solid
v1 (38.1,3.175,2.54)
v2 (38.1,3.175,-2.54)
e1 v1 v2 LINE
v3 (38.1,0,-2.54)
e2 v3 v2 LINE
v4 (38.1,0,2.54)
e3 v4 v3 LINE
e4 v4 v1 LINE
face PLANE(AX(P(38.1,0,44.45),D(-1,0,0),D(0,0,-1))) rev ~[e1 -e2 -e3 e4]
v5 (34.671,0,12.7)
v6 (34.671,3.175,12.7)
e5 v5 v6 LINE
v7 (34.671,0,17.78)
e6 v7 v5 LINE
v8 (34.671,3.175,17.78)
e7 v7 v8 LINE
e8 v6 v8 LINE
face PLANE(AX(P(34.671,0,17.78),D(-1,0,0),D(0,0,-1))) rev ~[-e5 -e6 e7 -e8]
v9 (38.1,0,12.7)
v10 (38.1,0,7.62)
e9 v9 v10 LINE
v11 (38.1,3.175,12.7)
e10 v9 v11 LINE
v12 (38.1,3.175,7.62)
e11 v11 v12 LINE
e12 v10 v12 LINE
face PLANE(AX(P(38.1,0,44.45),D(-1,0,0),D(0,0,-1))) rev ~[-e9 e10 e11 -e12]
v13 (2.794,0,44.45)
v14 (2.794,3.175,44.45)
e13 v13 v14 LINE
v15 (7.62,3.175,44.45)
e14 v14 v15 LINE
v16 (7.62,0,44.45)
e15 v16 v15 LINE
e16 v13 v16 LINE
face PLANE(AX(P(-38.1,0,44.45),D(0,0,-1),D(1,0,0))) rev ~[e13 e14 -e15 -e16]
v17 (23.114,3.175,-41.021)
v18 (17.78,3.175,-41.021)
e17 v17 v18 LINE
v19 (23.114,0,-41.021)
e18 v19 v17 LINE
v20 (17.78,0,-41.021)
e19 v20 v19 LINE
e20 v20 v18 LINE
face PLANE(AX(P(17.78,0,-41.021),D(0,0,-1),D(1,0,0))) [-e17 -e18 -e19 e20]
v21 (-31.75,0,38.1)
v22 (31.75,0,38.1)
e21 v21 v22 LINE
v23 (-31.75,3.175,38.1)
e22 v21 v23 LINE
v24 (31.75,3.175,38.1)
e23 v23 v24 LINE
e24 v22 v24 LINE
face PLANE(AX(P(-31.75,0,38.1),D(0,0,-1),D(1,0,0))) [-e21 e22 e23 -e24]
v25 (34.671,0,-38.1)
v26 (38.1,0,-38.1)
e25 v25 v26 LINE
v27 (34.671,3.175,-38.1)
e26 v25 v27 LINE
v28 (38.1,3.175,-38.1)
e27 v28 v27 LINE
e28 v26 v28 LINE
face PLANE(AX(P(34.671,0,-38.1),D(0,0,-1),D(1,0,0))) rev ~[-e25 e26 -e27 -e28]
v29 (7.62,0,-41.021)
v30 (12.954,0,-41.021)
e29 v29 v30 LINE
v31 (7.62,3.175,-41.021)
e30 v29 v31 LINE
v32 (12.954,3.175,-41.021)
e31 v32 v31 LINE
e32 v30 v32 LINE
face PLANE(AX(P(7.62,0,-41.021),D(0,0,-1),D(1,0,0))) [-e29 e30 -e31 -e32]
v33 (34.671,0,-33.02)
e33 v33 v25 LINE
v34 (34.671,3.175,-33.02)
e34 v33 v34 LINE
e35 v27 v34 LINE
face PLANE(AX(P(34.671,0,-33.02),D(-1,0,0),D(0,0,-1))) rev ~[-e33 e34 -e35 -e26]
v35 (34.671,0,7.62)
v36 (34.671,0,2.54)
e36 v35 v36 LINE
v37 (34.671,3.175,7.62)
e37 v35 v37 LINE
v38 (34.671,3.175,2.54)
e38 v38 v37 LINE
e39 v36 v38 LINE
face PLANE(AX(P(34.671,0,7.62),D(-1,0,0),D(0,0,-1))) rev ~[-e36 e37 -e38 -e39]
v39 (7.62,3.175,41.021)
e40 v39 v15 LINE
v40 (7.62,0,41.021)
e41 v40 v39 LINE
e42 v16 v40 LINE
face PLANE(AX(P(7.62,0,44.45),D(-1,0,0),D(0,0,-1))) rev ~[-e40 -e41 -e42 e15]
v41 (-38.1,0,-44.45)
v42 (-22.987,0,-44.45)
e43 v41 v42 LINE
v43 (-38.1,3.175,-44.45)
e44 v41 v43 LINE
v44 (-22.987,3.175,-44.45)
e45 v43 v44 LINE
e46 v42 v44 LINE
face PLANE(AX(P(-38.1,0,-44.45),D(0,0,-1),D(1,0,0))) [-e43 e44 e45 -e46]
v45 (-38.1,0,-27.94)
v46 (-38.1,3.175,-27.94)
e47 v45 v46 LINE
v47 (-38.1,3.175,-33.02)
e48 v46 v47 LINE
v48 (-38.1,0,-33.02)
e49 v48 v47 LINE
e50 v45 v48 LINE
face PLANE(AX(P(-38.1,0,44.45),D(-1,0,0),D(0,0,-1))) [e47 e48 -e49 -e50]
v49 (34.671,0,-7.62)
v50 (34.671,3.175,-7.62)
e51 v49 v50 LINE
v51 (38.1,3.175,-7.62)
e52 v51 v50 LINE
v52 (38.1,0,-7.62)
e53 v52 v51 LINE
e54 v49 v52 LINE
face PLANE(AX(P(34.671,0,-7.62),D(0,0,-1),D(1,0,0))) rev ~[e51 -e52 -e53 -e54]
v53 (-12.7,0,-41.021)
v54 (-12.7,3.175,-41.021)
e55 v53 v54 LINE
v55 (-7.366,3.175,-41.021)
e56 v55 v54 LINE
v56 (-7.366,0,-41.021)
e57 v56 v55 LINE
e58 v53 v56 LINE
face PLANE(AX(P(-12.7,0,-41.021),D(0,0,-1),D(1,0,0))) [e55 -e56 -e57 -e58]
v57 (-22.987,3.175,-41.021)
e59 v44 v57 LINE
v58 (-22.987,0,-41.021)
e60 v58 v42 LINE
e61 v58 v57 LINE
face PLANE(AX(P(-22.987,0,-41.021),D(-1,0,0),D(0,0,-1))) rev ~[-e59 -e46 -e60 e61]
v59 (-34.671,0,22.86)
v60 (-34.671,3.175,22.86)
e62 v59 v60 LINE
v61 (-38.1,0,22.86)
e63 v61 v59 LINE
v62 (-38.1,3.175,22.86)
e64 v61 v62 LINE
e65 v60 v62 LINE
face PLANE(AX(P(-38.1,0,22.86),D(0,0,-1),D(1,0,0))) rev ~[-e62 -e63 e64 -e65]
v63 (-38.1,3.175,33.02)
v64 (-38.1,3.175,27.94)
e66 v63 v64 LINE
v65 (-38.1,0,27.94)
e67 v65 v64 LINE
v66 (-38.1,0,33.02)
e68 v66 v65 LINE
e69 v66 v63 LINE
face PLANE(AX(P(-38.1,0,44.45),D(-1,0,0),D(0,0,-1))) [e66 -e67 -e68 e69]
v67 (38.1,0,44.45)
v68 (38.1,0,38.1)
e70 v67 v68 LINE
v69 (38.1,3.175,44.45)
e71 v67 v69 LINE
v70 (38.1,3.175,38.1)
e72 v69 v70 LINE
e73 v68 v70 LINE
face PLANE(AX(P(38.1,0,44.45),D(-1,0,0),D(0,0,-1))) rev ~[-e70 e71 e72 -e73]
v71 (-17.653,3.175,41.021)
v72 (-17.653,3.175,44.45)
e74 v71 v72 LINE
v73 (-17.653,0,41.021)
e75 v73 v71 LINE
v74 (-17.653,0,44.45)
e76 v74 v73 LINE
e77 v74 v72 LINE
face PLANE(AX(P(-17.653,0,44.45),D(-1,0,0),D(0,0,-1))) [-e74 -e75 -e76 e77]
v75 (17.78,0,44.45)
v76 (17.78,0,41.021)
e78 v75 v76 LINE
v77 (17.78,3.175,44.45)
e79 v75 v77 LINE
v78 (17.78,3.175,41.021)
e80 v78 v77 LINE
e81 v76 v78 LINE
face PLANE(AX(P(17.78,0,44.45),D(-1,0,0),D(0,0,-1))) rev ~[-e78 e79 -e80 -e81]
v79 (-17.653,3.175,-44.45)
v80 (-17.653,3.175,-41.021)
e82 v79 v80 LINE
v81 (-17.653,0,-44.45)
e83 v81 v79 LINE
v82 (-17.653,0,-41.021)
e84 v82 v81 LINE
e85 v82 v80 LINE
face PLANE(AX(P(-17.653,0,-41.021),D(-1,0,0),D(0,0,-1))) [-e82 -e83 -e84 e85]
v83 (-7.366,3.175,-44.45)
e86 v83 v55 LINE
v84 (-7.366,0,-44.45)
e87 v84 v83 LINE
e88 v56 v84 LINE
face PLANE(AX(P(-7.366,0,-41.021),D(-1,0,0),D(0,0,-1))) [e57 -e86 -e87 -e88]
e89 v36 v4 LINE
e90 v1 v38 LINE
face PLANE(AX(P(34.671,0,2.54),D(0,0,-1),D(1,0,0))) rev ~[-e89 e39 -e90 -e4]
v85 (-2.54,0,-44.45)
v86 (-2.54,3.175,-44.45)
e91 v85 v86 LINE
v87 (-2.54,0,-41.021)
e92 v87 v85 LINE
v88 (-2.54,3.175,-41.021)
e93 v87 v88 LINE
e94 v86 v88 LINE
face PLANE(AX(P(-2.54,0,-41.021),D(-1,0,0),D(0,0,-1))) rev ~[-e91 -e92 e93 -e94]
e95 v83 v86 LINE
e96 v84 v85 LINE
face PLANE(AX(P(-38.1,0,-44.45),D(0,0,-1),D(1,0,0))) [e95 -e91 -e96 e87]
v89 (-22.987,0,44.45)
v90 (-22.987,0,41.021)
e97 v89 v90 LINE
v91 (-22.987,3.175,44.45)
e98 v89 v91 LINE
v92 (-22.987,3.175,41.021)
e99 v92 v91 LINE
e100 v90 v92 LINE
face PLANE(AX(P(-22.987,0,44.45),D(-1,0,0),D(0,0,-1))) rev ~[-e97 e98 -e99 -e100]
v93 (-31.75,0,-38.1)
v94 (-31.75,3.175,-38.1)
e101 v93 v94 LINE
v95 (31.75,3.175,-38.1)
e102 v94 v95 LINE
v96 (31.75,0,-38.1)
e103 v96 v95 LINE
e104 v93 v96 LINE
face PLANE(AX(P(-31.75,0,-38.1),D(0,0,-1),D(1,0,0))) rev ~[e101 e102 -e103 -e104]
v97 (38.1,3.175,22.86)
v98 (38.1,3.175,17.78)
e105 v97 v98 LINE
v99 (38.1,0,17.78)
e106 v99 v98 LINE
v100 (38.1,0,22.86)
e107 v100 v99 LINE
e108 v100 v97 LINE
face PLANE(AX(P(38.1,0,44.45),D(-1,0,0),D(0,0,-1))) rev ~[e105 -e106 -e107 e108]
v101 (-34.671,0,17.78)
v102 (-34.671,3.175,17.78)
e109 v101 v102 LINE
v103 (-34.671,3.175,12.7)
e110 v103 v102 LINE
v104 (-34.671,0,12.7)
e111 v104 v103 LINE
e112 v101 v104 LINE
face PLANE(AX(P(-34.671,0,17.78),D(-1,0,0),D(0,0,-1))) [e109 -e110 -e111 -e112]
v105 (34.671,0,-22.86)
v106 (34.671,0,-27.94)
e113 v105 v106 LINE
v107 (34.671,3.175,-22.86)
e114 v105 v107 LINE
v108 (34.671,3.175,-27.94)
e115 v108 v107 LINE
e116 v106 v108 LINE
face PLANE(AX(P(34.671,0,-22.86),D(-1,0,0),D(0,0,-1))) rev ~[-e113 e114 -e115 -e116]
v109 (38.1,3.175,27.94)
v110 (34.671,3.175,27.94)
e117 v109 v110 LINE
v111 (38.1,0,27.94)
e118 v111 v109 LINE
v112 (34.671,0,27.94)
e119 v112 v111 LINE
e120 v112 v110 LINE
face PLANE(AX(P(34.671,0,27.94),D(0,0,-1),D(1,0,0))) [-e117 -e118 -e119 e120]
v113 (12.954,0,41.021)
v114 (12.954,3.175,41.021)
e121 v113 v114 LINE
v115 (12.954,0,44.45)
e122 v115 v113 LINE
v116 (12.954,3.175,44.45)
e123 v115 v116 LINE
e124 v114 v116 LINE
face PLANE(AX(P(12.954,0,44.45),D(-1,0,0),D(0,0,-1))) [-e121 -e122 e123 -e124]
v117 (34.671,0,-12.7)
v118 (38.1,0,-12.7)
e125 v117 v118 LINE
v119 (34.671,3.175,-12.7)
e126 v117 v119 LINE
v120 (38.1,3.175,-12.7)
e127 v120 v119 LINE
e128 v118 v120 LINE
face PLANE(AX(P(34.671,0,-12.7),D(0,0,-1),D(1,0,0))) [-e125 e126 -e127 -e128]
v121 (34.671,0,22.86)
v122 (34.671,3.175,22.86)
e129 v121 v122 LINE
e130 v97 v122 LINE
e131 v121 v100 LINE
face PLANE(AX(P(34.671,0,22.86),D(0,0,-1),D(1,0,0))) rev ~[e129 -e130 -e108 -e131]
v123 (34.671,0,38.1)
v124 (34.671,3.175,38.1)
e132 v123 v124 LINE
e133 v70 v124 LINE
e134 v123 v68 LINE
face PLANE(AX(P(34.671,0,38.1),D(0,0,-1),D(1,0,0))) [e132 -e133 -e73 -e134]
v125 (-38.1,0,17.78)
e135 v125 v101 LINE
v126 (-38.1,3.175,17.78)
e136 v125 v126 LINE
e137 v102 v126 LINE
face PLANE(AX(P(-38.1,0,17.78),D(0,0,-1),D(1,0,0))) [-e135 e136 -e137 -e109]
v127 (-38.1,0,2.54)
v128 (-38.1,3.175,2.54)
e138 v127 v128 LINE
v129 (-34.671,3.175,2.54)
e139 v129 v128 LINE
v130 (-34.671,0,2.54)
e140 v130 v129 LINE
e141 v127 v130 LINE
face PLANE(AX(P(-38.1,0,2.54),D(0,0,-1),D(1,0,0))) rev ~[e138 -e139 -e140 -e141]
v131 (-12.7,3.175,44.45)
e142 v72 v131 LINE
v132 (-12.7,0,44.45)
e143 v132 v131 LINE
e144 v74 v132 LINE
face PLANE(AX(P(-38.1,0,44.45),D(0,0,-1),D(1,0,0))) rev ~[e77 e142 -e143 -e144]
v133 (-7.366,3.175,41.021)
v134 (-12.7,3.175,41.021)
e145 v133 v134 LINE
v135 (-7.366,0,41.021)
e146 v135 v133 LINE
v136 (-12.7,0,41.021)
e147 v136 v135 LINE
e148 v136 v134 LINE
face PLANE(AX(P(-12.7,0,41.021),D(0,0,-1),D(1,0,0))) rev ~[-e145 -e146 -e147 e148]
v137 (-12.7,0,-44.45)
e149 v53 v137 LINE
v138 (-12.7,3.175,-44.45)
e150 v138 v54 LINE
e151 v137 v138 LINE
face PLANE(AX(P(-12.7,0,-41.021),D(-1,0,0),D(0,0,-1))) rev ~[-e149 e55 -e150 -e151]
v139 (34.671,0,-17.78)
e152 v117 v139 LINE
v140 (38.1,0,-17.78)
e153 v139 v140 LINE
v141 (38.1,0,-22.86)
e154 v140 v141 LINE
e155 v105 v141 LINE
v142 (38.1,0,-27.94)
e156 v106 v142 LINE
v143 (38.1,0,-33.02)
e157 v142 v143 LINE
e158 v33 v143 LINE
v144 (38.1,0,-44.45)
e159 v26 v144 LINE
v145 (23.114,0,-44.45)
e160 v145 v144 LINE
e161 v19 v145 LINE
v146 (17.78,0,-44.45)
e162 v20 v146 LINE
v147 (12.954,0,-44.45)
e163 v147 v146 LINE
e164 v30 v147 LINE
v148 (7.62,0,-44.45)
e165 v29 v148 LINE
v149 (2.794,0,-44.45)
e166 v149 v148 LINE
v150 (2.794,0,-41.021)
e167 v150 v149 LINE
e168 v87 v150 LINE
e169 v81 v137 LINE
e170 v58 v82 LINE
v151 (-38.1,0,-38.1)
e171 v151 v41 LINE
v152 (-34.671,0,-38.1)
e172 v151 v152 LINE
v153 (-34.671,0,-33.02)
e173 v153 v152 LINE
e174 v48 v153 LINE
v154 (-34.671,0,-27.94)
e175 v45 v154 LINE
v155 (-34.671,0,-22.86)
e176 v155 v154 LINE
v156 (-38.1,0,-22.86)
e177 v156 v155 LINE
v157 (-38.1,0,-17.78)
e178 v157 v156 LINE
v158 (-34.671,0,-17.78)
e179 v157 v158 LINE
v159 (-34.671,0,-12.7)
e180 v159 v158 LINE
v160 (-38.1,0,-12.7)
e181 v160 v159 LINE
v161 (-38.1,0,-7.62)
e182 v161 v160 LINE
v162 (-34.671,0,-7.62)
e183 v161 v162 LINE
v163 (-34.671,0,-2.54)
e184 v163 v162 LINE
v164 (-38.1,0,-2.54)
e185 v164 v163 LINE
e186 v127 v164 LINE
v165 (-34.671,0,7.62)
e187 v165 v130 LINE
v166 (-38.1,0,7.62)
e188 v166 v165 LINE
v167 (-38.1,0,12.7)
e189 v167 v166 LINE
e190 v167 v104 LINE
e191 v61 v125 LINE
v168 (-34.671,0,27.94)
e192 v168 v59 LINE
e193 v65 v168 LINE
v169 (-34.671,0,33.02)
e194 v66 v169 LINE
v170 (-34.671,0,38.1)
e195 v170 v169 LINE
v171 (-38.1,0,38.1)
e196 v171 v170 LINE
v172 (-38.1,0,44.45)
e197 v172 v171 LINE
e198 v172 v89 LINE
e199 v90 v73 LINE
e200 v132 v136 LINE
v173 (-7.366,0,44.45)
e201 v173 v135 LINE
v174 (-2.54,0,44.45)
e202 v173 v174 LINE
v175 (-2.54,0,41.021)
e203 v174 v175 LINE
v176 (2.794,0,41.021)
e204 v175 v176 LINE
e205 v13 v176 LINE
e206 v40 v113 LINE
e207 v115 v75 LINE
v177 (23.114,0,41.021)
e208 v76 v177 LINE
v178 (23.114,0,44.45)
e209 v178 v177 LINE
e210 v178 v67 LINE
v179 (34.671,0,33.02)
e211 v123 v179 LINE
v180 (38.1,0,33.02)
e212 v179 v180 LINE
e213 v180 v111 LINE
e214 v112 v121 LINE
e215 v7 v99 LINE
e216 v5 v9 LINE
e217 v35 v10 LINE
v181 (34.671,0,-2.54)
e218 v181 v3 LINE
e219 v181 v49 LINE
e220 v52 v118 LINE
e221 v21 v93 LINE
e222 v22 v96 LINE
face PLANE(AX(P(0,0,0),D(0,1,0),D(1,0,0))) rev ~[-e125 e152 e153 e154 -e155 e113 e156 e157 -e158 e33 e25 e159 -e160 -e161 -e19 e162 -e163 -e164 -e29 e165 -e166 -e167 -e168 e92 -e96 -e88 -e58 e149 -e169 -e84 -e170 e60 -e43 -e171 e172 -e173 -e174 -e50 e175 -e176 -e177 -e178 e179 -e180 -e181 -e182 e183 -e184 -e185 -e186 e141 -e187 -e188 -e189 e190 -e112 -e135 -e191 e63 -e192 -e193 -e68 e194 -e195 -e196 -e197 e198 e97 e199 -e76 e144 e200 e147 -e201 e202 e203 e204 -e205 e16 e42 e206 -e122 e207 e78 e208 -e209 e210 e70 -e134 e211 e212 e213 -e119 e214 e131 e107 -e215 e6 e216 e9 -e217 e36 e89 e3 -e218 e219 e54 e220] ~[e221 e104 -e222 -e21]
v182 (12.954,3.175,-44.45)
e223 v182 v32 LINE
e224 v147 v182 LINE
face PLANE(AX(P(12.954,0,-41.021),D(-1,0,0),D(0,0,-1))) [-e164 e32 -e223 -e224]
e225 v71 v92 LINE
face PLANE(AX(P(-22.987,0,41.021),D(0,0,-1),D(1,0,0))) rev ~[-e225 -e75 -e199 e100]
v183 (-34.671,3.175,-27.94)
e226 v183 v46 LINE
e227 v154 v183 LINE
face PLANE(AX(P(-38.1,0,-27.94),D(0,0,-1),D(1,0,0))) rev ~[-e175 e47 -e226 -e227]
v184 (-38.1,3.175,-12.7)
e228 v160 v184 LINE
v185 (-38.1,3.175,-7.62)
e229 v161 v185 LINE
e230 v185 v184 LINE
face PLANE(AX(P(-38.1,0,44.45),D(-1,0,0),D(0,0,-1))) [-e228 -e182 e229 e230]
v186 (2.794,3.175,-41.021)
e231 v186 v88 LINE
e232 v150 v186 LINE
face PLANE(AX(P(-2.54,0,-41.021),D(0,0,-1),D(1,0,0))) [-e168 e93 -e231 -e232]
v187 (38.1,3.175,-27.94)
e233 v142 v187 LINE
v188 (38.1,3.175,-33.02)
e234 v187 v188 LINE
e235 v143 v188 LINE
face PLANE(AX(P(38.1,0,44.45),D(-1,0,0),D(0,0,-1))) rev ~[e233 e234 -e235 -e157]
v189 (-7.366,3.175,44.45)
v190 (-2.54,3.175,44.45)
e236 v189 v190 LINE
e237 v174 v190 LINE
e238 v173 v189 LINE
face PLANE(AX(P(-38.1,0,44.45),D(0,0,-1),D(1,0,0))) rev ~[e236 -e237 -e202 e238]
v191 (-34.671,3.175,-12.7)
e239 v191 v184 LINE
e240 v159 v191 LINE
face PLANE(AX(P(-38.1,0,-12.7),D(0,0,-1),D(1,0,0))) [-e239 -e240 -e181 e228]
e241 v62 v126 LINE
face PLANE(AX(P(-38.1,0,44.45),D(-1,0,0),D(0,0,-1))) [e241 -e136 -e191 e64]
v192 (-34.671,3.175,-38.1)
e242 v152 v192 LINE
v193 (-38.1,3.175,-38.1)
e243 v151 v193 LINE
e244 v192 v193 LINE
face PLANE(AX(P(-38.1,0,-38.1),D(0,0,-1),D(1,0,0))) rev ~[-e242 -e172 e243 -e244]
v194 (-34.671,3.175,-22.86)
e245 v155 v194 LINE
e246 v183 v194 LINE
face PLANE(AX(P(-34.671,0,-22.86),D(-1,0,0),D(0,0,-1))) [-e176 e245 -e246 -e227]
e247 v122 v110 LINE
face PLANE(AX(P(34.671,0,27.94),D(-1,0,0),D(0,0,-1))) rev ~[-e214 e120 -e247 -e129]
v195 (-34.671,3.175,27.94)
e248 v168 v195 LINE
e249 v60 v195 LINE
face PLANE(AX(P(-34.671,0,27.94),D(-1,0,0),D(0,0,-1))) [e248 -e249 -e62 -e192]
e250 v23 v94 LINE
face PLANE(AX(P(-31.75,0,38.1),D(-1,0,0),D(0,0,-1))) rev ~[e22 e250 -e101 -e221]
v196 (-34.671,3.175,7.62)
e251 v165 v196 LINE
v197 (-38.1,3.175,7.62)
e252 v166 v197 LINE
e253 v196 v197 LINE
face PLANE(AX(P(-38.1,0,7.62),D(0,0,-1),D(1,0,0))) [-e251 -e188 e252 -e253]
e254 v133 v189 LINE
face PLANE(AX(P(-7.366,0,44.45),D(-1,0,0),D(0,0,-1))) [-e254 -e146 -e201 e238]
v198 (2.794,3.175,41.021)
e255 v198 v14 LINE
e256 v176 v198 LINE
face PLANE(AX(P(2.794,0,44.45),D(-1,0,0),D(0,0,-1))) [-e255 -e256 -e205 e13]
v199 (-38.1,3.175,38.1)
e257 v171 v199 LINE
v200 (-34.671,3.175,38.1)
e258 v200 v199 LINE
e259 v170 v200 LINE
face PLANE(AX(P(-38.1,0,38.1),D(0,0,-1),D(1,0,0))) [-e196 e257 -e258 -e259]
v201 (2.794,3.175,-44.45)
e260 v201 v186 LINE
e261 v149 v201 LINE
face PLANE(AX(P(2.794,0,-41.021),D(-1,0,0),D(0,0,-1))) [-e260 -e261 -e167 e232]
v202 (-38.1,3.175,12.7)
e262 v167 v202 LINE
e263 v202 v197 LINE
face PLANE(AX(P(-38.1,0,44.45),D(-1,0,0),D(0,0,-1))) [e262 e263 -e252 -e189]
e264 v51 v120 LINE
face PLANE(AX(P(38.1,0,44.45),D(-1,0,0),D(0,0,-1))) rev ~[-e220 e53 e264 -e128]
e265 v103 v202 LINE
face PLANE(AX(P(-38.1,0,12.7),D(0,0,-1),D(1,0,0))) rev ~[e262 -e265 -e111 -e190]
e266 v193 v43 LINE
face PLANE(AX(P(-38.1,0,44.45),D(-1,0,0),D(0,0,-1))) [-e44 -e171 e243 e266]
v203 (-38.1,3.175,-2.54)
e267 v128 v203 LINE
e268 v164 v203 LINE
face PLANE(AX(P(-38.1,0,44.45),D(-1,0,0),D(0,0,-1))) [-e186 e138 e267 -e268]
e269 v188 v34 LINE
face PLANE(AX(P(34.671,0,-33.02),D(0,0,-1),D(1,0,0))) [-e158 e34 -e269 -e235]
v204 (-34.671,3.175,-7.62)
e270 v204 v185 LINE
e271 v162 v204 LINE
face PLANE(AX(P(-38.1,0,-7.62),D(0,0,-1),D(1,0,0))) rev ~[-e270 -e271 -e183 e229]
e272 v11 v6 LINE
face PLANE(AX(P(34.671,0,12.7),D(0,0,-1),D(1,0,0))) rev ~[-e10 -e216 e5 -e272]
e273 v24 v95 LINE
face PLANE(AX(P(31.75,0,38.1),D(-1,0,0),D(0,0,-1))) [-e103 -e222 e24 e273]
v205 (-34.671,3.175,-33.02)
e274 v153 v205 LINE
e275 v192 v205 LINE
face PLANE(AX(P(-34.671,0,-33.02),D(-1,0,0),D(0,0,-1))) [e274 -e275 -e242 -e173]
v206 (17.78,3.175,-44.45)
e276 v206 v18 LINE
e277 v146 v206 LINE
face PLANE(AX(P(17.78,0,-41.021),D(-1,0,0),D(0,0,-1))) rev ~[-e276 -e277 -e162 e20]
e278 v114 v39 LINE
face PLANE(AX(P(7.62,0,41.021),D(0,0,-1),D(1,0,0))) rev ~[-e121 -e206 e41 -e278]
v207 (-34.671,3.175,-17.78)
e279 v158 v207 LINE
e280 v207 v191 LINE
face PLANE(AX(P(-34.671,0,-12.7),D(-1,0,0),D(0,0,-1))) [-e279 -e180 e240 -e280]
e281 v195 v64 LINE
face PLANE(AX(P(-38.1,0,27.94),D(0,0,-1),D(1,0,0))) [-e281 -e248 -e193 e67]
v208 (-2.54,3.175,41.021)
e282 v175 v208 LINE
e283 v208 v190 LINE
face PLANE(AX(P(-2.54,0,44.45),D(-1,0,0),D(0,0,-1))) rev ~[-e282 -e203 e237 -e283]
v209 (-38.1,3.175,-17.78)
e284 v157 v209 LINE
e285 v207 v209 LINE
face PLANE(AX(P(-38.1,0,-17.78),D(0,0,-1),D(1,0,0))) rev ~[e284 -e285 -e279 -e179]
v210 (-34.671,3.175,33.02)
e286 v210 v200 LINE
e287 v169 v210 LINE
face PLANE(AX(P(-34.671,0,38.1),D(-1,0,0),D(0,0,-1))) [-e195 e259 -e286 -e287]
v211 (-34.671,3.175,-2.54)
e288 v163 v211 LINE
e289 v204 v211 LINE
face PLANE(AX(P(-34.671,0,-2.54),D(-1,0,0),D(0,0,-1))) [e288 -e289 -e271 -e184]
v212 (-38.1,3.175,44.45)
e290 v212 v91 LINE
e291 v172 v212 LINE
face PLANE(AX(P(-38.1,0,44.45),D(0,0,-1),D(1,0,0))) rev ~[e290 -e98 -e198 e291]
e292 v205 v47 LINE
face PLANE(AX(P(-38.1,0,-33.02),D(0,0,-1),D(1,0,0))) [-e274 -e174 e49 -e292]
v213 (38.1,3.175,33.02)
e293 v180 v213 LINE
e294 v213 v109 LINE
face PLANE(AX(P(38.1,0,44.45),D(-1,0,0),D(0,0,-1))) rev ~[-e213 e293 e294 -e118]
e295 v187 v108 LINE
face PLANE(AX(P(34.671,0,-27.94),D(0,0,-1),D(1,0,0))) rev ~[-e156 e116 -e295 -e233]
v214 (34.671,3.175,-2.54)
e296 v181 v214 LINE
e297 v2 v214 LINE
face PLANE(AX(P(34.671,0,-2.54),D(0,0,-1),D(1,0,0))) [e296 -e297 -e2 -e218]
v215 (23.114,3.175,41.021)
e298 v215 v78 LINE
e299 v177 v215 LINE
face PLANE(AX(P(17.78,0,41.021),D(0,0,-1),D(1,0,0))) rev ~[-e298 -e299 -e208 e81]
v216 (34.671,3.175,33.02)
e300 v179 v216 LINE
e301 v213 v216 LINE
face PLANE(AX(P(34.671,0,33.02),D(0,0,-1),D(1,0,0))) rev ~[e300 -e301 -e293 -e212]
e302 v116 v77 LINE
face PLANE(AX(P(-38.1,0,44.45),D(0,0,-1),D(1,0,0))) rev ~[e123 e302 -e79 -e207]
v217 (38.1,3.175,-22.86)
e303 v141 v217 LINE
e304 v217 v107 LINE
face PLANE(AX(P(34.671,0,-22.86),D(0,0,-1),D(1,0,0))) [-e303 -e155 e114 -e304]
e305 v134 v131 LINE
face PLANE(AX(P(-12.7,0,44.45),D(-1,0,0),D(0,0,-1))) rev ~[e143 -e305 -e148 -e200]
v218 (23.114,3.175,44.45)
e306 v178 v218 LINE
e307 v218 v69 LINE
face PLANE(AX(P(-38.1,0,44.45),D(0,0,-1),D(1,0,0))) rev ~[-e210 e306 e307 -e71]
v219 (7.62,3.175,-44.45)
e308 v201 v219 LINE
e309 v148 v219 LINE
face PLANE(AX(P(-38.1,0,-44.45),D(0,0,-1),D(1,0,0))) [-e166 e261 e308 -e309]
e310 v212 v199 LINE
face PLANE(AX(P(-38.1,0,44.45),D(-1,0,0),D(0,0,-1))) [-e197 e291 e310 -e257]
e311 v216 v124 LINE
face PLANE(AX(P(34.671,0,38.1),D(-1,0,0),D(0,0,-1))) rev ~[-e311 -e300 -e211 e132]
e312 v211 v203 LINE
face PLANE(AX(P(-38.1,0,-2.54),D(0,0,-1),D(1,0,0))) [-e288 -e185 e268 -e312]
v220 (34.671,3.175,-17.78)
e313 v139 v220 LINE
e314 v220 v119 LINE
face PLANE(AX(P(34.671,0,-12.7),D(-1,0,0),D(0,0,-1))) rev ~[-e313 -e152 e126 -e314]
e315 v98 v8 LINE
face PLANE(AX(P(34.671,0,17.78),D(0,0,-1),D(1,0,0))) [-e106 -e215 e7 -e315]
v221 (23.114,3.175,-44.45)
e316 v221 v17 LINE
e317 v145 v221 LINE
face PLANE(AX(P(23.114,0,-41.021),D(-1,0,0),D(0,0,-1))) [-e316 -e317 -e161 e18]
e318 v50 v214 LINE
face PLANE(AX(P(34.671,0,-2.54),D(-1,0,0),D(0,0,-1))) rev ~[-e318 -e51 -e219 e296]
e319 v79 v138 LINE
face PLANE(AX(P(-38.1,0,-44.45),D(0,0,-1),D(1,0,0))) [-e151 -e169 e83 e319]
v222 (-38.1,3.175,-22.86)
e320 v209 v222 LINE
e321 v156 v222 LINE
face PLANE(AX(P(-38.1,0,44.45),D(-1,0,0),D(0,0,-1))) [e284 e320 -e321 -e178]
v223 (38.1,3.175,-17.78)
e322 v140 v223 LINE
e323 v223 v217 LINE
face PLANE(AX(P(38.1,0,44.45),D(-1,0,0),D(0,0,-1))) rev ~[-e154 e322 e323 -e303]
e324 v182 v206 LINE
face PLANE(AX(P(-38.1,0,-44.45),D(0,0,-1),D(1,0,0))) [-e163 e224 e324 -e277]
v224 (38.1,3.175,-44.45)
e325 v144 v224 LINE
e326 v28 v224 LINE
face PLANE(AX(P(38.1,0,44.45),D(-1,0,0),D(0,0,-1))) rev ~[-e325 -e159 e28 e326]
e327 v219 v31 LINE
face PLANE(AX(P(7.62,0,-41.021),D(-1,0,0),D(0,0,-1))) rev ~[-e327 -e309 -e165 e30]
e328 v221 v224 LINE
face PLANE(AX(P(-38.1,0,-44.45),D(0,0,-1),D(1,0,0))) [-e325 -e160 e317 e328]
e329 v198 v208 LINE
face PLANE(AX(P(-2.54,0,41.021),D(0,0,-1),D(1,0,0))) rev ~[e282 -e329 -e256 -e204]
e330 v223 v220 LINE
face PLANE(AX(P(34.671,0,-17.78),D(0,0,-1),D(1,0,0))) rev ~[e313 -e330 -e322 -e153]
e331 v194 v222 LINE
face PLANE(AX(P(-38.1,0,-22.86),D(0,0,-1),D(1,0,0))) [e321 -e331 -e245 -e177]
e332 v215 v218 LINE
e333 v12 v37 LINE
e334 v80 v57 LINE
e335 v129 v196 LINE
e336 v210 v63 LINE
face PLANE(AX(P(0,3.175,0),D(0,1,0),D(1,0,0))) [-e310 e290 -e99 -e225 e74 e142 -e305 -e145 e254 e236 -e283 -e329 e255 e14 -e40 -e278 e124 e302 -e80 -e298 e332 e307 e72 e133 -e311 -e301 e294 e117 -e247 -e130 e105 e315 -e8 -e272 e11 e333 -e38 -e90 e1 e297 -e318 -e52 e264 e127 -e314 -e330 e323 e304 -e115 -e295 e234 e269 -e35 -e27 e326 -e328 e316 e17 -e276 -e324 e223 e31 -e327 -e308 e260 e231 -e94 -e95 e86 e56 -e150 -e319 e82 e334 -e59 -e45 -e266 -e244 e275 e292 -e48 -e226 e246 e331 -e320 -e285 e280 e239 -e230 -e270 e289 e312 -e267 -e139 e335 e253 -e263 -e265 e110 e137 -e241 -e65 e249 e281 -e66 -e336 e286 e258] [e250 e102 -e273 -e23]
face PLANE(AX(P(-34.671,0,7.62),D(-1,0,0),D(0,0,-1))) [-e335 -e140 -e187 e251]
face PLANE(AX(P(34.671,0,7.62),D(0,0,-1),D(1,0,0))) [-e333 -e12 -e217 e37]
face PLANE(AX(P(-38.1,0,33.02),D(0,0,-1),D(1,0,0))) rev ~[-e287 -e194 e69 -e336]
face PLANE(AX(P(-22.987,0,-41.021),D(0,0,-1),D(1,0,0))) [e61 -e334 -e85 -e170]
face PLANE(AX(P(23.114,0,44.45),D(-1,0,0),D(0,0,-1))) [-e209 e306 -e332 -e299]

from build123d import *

# Parameters (mm, degrees)
SKETCH1_W           = 76.2
SKETCH1_H           = 88.9
SKETCH1_W_2         = 63.5
SKETCH1_H_2         = 76.2
BOSS_EXTRUDE1_DEPTH = 3.175
SKETCH2_W           = 5.334
SKETCH2_H           = 3.429
SKETCH2_W_2         = 3.429
SKETCH2_H_2         = 5.08
CUT_EXTRUDE1_DEPTH  = 59.630138368


with BuildPart() as part:
    # Sketch1 → Boss-Extrude1 (new body)
    with BuildSketch(Plane(origin=(0, 0, 0), x_dir=(1, 0, 0), z_dir=(0, 1, 0))):
        Rectangle(SKETCH1_W, SKETCH1_H)
        Rectangle(SKETCH1_W_2, SKETCH1_H_2, mode=Mode.SUBTRACT)
    extrude(amount=BOSS_EXTRUDE1_DEPTH)

    # Sketch2 → Cut-Extrude1 (cut, through all)
    with BuildSketch(Plane(origin=(0, 0, 0), x_dir=(1, 0, 0), z_dir=(0, 1, 0))):
        with Locations((20.447, -42.7355)):
            Rectangle(SKETCH2_W, SKETCH2_H)
        with Locations((10.287, -42.7355)):
            Rectangle(SKETCH2_W, SKETCH2_H)
        with Locations((0.127, -42.7355)):
            Rectangle(SKETCH2_W, SKETCH2_H)
        with Locations((-10.033, -42.7355)):
            Rectangle(SKETCH2_W, SKETCH2_H)
        with Locations((-20.32, -42.7355)):
            Rectangle(SKETCH2_W, SKETCH2_H)
        with Locations((-36.3855, 35.56)):
            Rectangle(SKETCH2_W_2, SKETCH2_H_2)
        with Locations((-36.3855, 25.4)):
            Rectangle(SKETCH2_W_2, SKETCH2_H_2)
        with Locations((-36.3855, 15.24)):
            Rectangle(SKETCH2_W_2, SKETCH2_H_2)
        with Locations((-36.3855, 5.08)):
            Rectangle(SKETCH2_W_2, SKETCH2_H_2)
        with Locations((-36.3855, -5.08)):
            Rectangle(SKETCH2_W_2, SKETCH2_H_2)
        with Locations((-36.3855, -15.24)):
            Rectangle(SKETCH2_W_2, SKETCH2_H_2)
        with Locations((-36.3855, -25.4)):
            Rectangle(SKETCH2_W_2, SKETCH2_H_2)
        with Locations((-36.3855, -35.56)):
            Rectangle(SKETCH2_W_2, SKETCH2_H_2)
        with Locations((36.3855, -35.56)):
            Rectangle(SKETCH2_W_2, SKETCH2_H_2)
        with Locations((36.3855, -25.4)):
            Rectangle(SKETCH2_W_2, SKETCH2_H_2)
        with Locations((36.3855, -15.24)):
            Rectangle(SKETCH2_W_2, SKETCH2_H_2)
        with Locations((36.3855, -5.08)):
            Rectangle(SKETCH2_W_2, SKETCH2_H_2)
        with Locations((36.3855, 5.08)):
            Rectangle(SKETCH2_W_2, SKETCH2_H_2)
        with Locations((36.3855, 15.24)):
            Rectangle(SKETCH2_W_2, SKETCH2_H_2)
        with Locations((36.3855, 25.4)):
            Rectangle(SKETCH2_W_2, SKETCH2_H_2)
        with Locations((36.3855, 35.56)):
            Rectangle(SKETCH2_W_2, SKETCH2_H_2)
        with Locations((-20.32, 42.7355)):
            Rectangle(SKETCH2_W, SKETCH2_H)
        with Locations((-10.033, 42.7355)):
            Rectangle(SKETCH2_W, SKETCH2_H)
        with Locations((0.127, 42.7355)):
            Rectangle(SKETCH2_W, SKETCH2_H)
        with Locations((10.287, 42.7355)):
            Rectangle(SKETCH2_W, SKETCH2_H)
        with Locations((20.447, 42.7355)):
            Rectangle(SKETCH2_W, SKETCH2_H)
    extrude(amount=CUT_EXTRUDE1_DEPTH, mode=Mode.SUBTRACT)


solid = part.part
